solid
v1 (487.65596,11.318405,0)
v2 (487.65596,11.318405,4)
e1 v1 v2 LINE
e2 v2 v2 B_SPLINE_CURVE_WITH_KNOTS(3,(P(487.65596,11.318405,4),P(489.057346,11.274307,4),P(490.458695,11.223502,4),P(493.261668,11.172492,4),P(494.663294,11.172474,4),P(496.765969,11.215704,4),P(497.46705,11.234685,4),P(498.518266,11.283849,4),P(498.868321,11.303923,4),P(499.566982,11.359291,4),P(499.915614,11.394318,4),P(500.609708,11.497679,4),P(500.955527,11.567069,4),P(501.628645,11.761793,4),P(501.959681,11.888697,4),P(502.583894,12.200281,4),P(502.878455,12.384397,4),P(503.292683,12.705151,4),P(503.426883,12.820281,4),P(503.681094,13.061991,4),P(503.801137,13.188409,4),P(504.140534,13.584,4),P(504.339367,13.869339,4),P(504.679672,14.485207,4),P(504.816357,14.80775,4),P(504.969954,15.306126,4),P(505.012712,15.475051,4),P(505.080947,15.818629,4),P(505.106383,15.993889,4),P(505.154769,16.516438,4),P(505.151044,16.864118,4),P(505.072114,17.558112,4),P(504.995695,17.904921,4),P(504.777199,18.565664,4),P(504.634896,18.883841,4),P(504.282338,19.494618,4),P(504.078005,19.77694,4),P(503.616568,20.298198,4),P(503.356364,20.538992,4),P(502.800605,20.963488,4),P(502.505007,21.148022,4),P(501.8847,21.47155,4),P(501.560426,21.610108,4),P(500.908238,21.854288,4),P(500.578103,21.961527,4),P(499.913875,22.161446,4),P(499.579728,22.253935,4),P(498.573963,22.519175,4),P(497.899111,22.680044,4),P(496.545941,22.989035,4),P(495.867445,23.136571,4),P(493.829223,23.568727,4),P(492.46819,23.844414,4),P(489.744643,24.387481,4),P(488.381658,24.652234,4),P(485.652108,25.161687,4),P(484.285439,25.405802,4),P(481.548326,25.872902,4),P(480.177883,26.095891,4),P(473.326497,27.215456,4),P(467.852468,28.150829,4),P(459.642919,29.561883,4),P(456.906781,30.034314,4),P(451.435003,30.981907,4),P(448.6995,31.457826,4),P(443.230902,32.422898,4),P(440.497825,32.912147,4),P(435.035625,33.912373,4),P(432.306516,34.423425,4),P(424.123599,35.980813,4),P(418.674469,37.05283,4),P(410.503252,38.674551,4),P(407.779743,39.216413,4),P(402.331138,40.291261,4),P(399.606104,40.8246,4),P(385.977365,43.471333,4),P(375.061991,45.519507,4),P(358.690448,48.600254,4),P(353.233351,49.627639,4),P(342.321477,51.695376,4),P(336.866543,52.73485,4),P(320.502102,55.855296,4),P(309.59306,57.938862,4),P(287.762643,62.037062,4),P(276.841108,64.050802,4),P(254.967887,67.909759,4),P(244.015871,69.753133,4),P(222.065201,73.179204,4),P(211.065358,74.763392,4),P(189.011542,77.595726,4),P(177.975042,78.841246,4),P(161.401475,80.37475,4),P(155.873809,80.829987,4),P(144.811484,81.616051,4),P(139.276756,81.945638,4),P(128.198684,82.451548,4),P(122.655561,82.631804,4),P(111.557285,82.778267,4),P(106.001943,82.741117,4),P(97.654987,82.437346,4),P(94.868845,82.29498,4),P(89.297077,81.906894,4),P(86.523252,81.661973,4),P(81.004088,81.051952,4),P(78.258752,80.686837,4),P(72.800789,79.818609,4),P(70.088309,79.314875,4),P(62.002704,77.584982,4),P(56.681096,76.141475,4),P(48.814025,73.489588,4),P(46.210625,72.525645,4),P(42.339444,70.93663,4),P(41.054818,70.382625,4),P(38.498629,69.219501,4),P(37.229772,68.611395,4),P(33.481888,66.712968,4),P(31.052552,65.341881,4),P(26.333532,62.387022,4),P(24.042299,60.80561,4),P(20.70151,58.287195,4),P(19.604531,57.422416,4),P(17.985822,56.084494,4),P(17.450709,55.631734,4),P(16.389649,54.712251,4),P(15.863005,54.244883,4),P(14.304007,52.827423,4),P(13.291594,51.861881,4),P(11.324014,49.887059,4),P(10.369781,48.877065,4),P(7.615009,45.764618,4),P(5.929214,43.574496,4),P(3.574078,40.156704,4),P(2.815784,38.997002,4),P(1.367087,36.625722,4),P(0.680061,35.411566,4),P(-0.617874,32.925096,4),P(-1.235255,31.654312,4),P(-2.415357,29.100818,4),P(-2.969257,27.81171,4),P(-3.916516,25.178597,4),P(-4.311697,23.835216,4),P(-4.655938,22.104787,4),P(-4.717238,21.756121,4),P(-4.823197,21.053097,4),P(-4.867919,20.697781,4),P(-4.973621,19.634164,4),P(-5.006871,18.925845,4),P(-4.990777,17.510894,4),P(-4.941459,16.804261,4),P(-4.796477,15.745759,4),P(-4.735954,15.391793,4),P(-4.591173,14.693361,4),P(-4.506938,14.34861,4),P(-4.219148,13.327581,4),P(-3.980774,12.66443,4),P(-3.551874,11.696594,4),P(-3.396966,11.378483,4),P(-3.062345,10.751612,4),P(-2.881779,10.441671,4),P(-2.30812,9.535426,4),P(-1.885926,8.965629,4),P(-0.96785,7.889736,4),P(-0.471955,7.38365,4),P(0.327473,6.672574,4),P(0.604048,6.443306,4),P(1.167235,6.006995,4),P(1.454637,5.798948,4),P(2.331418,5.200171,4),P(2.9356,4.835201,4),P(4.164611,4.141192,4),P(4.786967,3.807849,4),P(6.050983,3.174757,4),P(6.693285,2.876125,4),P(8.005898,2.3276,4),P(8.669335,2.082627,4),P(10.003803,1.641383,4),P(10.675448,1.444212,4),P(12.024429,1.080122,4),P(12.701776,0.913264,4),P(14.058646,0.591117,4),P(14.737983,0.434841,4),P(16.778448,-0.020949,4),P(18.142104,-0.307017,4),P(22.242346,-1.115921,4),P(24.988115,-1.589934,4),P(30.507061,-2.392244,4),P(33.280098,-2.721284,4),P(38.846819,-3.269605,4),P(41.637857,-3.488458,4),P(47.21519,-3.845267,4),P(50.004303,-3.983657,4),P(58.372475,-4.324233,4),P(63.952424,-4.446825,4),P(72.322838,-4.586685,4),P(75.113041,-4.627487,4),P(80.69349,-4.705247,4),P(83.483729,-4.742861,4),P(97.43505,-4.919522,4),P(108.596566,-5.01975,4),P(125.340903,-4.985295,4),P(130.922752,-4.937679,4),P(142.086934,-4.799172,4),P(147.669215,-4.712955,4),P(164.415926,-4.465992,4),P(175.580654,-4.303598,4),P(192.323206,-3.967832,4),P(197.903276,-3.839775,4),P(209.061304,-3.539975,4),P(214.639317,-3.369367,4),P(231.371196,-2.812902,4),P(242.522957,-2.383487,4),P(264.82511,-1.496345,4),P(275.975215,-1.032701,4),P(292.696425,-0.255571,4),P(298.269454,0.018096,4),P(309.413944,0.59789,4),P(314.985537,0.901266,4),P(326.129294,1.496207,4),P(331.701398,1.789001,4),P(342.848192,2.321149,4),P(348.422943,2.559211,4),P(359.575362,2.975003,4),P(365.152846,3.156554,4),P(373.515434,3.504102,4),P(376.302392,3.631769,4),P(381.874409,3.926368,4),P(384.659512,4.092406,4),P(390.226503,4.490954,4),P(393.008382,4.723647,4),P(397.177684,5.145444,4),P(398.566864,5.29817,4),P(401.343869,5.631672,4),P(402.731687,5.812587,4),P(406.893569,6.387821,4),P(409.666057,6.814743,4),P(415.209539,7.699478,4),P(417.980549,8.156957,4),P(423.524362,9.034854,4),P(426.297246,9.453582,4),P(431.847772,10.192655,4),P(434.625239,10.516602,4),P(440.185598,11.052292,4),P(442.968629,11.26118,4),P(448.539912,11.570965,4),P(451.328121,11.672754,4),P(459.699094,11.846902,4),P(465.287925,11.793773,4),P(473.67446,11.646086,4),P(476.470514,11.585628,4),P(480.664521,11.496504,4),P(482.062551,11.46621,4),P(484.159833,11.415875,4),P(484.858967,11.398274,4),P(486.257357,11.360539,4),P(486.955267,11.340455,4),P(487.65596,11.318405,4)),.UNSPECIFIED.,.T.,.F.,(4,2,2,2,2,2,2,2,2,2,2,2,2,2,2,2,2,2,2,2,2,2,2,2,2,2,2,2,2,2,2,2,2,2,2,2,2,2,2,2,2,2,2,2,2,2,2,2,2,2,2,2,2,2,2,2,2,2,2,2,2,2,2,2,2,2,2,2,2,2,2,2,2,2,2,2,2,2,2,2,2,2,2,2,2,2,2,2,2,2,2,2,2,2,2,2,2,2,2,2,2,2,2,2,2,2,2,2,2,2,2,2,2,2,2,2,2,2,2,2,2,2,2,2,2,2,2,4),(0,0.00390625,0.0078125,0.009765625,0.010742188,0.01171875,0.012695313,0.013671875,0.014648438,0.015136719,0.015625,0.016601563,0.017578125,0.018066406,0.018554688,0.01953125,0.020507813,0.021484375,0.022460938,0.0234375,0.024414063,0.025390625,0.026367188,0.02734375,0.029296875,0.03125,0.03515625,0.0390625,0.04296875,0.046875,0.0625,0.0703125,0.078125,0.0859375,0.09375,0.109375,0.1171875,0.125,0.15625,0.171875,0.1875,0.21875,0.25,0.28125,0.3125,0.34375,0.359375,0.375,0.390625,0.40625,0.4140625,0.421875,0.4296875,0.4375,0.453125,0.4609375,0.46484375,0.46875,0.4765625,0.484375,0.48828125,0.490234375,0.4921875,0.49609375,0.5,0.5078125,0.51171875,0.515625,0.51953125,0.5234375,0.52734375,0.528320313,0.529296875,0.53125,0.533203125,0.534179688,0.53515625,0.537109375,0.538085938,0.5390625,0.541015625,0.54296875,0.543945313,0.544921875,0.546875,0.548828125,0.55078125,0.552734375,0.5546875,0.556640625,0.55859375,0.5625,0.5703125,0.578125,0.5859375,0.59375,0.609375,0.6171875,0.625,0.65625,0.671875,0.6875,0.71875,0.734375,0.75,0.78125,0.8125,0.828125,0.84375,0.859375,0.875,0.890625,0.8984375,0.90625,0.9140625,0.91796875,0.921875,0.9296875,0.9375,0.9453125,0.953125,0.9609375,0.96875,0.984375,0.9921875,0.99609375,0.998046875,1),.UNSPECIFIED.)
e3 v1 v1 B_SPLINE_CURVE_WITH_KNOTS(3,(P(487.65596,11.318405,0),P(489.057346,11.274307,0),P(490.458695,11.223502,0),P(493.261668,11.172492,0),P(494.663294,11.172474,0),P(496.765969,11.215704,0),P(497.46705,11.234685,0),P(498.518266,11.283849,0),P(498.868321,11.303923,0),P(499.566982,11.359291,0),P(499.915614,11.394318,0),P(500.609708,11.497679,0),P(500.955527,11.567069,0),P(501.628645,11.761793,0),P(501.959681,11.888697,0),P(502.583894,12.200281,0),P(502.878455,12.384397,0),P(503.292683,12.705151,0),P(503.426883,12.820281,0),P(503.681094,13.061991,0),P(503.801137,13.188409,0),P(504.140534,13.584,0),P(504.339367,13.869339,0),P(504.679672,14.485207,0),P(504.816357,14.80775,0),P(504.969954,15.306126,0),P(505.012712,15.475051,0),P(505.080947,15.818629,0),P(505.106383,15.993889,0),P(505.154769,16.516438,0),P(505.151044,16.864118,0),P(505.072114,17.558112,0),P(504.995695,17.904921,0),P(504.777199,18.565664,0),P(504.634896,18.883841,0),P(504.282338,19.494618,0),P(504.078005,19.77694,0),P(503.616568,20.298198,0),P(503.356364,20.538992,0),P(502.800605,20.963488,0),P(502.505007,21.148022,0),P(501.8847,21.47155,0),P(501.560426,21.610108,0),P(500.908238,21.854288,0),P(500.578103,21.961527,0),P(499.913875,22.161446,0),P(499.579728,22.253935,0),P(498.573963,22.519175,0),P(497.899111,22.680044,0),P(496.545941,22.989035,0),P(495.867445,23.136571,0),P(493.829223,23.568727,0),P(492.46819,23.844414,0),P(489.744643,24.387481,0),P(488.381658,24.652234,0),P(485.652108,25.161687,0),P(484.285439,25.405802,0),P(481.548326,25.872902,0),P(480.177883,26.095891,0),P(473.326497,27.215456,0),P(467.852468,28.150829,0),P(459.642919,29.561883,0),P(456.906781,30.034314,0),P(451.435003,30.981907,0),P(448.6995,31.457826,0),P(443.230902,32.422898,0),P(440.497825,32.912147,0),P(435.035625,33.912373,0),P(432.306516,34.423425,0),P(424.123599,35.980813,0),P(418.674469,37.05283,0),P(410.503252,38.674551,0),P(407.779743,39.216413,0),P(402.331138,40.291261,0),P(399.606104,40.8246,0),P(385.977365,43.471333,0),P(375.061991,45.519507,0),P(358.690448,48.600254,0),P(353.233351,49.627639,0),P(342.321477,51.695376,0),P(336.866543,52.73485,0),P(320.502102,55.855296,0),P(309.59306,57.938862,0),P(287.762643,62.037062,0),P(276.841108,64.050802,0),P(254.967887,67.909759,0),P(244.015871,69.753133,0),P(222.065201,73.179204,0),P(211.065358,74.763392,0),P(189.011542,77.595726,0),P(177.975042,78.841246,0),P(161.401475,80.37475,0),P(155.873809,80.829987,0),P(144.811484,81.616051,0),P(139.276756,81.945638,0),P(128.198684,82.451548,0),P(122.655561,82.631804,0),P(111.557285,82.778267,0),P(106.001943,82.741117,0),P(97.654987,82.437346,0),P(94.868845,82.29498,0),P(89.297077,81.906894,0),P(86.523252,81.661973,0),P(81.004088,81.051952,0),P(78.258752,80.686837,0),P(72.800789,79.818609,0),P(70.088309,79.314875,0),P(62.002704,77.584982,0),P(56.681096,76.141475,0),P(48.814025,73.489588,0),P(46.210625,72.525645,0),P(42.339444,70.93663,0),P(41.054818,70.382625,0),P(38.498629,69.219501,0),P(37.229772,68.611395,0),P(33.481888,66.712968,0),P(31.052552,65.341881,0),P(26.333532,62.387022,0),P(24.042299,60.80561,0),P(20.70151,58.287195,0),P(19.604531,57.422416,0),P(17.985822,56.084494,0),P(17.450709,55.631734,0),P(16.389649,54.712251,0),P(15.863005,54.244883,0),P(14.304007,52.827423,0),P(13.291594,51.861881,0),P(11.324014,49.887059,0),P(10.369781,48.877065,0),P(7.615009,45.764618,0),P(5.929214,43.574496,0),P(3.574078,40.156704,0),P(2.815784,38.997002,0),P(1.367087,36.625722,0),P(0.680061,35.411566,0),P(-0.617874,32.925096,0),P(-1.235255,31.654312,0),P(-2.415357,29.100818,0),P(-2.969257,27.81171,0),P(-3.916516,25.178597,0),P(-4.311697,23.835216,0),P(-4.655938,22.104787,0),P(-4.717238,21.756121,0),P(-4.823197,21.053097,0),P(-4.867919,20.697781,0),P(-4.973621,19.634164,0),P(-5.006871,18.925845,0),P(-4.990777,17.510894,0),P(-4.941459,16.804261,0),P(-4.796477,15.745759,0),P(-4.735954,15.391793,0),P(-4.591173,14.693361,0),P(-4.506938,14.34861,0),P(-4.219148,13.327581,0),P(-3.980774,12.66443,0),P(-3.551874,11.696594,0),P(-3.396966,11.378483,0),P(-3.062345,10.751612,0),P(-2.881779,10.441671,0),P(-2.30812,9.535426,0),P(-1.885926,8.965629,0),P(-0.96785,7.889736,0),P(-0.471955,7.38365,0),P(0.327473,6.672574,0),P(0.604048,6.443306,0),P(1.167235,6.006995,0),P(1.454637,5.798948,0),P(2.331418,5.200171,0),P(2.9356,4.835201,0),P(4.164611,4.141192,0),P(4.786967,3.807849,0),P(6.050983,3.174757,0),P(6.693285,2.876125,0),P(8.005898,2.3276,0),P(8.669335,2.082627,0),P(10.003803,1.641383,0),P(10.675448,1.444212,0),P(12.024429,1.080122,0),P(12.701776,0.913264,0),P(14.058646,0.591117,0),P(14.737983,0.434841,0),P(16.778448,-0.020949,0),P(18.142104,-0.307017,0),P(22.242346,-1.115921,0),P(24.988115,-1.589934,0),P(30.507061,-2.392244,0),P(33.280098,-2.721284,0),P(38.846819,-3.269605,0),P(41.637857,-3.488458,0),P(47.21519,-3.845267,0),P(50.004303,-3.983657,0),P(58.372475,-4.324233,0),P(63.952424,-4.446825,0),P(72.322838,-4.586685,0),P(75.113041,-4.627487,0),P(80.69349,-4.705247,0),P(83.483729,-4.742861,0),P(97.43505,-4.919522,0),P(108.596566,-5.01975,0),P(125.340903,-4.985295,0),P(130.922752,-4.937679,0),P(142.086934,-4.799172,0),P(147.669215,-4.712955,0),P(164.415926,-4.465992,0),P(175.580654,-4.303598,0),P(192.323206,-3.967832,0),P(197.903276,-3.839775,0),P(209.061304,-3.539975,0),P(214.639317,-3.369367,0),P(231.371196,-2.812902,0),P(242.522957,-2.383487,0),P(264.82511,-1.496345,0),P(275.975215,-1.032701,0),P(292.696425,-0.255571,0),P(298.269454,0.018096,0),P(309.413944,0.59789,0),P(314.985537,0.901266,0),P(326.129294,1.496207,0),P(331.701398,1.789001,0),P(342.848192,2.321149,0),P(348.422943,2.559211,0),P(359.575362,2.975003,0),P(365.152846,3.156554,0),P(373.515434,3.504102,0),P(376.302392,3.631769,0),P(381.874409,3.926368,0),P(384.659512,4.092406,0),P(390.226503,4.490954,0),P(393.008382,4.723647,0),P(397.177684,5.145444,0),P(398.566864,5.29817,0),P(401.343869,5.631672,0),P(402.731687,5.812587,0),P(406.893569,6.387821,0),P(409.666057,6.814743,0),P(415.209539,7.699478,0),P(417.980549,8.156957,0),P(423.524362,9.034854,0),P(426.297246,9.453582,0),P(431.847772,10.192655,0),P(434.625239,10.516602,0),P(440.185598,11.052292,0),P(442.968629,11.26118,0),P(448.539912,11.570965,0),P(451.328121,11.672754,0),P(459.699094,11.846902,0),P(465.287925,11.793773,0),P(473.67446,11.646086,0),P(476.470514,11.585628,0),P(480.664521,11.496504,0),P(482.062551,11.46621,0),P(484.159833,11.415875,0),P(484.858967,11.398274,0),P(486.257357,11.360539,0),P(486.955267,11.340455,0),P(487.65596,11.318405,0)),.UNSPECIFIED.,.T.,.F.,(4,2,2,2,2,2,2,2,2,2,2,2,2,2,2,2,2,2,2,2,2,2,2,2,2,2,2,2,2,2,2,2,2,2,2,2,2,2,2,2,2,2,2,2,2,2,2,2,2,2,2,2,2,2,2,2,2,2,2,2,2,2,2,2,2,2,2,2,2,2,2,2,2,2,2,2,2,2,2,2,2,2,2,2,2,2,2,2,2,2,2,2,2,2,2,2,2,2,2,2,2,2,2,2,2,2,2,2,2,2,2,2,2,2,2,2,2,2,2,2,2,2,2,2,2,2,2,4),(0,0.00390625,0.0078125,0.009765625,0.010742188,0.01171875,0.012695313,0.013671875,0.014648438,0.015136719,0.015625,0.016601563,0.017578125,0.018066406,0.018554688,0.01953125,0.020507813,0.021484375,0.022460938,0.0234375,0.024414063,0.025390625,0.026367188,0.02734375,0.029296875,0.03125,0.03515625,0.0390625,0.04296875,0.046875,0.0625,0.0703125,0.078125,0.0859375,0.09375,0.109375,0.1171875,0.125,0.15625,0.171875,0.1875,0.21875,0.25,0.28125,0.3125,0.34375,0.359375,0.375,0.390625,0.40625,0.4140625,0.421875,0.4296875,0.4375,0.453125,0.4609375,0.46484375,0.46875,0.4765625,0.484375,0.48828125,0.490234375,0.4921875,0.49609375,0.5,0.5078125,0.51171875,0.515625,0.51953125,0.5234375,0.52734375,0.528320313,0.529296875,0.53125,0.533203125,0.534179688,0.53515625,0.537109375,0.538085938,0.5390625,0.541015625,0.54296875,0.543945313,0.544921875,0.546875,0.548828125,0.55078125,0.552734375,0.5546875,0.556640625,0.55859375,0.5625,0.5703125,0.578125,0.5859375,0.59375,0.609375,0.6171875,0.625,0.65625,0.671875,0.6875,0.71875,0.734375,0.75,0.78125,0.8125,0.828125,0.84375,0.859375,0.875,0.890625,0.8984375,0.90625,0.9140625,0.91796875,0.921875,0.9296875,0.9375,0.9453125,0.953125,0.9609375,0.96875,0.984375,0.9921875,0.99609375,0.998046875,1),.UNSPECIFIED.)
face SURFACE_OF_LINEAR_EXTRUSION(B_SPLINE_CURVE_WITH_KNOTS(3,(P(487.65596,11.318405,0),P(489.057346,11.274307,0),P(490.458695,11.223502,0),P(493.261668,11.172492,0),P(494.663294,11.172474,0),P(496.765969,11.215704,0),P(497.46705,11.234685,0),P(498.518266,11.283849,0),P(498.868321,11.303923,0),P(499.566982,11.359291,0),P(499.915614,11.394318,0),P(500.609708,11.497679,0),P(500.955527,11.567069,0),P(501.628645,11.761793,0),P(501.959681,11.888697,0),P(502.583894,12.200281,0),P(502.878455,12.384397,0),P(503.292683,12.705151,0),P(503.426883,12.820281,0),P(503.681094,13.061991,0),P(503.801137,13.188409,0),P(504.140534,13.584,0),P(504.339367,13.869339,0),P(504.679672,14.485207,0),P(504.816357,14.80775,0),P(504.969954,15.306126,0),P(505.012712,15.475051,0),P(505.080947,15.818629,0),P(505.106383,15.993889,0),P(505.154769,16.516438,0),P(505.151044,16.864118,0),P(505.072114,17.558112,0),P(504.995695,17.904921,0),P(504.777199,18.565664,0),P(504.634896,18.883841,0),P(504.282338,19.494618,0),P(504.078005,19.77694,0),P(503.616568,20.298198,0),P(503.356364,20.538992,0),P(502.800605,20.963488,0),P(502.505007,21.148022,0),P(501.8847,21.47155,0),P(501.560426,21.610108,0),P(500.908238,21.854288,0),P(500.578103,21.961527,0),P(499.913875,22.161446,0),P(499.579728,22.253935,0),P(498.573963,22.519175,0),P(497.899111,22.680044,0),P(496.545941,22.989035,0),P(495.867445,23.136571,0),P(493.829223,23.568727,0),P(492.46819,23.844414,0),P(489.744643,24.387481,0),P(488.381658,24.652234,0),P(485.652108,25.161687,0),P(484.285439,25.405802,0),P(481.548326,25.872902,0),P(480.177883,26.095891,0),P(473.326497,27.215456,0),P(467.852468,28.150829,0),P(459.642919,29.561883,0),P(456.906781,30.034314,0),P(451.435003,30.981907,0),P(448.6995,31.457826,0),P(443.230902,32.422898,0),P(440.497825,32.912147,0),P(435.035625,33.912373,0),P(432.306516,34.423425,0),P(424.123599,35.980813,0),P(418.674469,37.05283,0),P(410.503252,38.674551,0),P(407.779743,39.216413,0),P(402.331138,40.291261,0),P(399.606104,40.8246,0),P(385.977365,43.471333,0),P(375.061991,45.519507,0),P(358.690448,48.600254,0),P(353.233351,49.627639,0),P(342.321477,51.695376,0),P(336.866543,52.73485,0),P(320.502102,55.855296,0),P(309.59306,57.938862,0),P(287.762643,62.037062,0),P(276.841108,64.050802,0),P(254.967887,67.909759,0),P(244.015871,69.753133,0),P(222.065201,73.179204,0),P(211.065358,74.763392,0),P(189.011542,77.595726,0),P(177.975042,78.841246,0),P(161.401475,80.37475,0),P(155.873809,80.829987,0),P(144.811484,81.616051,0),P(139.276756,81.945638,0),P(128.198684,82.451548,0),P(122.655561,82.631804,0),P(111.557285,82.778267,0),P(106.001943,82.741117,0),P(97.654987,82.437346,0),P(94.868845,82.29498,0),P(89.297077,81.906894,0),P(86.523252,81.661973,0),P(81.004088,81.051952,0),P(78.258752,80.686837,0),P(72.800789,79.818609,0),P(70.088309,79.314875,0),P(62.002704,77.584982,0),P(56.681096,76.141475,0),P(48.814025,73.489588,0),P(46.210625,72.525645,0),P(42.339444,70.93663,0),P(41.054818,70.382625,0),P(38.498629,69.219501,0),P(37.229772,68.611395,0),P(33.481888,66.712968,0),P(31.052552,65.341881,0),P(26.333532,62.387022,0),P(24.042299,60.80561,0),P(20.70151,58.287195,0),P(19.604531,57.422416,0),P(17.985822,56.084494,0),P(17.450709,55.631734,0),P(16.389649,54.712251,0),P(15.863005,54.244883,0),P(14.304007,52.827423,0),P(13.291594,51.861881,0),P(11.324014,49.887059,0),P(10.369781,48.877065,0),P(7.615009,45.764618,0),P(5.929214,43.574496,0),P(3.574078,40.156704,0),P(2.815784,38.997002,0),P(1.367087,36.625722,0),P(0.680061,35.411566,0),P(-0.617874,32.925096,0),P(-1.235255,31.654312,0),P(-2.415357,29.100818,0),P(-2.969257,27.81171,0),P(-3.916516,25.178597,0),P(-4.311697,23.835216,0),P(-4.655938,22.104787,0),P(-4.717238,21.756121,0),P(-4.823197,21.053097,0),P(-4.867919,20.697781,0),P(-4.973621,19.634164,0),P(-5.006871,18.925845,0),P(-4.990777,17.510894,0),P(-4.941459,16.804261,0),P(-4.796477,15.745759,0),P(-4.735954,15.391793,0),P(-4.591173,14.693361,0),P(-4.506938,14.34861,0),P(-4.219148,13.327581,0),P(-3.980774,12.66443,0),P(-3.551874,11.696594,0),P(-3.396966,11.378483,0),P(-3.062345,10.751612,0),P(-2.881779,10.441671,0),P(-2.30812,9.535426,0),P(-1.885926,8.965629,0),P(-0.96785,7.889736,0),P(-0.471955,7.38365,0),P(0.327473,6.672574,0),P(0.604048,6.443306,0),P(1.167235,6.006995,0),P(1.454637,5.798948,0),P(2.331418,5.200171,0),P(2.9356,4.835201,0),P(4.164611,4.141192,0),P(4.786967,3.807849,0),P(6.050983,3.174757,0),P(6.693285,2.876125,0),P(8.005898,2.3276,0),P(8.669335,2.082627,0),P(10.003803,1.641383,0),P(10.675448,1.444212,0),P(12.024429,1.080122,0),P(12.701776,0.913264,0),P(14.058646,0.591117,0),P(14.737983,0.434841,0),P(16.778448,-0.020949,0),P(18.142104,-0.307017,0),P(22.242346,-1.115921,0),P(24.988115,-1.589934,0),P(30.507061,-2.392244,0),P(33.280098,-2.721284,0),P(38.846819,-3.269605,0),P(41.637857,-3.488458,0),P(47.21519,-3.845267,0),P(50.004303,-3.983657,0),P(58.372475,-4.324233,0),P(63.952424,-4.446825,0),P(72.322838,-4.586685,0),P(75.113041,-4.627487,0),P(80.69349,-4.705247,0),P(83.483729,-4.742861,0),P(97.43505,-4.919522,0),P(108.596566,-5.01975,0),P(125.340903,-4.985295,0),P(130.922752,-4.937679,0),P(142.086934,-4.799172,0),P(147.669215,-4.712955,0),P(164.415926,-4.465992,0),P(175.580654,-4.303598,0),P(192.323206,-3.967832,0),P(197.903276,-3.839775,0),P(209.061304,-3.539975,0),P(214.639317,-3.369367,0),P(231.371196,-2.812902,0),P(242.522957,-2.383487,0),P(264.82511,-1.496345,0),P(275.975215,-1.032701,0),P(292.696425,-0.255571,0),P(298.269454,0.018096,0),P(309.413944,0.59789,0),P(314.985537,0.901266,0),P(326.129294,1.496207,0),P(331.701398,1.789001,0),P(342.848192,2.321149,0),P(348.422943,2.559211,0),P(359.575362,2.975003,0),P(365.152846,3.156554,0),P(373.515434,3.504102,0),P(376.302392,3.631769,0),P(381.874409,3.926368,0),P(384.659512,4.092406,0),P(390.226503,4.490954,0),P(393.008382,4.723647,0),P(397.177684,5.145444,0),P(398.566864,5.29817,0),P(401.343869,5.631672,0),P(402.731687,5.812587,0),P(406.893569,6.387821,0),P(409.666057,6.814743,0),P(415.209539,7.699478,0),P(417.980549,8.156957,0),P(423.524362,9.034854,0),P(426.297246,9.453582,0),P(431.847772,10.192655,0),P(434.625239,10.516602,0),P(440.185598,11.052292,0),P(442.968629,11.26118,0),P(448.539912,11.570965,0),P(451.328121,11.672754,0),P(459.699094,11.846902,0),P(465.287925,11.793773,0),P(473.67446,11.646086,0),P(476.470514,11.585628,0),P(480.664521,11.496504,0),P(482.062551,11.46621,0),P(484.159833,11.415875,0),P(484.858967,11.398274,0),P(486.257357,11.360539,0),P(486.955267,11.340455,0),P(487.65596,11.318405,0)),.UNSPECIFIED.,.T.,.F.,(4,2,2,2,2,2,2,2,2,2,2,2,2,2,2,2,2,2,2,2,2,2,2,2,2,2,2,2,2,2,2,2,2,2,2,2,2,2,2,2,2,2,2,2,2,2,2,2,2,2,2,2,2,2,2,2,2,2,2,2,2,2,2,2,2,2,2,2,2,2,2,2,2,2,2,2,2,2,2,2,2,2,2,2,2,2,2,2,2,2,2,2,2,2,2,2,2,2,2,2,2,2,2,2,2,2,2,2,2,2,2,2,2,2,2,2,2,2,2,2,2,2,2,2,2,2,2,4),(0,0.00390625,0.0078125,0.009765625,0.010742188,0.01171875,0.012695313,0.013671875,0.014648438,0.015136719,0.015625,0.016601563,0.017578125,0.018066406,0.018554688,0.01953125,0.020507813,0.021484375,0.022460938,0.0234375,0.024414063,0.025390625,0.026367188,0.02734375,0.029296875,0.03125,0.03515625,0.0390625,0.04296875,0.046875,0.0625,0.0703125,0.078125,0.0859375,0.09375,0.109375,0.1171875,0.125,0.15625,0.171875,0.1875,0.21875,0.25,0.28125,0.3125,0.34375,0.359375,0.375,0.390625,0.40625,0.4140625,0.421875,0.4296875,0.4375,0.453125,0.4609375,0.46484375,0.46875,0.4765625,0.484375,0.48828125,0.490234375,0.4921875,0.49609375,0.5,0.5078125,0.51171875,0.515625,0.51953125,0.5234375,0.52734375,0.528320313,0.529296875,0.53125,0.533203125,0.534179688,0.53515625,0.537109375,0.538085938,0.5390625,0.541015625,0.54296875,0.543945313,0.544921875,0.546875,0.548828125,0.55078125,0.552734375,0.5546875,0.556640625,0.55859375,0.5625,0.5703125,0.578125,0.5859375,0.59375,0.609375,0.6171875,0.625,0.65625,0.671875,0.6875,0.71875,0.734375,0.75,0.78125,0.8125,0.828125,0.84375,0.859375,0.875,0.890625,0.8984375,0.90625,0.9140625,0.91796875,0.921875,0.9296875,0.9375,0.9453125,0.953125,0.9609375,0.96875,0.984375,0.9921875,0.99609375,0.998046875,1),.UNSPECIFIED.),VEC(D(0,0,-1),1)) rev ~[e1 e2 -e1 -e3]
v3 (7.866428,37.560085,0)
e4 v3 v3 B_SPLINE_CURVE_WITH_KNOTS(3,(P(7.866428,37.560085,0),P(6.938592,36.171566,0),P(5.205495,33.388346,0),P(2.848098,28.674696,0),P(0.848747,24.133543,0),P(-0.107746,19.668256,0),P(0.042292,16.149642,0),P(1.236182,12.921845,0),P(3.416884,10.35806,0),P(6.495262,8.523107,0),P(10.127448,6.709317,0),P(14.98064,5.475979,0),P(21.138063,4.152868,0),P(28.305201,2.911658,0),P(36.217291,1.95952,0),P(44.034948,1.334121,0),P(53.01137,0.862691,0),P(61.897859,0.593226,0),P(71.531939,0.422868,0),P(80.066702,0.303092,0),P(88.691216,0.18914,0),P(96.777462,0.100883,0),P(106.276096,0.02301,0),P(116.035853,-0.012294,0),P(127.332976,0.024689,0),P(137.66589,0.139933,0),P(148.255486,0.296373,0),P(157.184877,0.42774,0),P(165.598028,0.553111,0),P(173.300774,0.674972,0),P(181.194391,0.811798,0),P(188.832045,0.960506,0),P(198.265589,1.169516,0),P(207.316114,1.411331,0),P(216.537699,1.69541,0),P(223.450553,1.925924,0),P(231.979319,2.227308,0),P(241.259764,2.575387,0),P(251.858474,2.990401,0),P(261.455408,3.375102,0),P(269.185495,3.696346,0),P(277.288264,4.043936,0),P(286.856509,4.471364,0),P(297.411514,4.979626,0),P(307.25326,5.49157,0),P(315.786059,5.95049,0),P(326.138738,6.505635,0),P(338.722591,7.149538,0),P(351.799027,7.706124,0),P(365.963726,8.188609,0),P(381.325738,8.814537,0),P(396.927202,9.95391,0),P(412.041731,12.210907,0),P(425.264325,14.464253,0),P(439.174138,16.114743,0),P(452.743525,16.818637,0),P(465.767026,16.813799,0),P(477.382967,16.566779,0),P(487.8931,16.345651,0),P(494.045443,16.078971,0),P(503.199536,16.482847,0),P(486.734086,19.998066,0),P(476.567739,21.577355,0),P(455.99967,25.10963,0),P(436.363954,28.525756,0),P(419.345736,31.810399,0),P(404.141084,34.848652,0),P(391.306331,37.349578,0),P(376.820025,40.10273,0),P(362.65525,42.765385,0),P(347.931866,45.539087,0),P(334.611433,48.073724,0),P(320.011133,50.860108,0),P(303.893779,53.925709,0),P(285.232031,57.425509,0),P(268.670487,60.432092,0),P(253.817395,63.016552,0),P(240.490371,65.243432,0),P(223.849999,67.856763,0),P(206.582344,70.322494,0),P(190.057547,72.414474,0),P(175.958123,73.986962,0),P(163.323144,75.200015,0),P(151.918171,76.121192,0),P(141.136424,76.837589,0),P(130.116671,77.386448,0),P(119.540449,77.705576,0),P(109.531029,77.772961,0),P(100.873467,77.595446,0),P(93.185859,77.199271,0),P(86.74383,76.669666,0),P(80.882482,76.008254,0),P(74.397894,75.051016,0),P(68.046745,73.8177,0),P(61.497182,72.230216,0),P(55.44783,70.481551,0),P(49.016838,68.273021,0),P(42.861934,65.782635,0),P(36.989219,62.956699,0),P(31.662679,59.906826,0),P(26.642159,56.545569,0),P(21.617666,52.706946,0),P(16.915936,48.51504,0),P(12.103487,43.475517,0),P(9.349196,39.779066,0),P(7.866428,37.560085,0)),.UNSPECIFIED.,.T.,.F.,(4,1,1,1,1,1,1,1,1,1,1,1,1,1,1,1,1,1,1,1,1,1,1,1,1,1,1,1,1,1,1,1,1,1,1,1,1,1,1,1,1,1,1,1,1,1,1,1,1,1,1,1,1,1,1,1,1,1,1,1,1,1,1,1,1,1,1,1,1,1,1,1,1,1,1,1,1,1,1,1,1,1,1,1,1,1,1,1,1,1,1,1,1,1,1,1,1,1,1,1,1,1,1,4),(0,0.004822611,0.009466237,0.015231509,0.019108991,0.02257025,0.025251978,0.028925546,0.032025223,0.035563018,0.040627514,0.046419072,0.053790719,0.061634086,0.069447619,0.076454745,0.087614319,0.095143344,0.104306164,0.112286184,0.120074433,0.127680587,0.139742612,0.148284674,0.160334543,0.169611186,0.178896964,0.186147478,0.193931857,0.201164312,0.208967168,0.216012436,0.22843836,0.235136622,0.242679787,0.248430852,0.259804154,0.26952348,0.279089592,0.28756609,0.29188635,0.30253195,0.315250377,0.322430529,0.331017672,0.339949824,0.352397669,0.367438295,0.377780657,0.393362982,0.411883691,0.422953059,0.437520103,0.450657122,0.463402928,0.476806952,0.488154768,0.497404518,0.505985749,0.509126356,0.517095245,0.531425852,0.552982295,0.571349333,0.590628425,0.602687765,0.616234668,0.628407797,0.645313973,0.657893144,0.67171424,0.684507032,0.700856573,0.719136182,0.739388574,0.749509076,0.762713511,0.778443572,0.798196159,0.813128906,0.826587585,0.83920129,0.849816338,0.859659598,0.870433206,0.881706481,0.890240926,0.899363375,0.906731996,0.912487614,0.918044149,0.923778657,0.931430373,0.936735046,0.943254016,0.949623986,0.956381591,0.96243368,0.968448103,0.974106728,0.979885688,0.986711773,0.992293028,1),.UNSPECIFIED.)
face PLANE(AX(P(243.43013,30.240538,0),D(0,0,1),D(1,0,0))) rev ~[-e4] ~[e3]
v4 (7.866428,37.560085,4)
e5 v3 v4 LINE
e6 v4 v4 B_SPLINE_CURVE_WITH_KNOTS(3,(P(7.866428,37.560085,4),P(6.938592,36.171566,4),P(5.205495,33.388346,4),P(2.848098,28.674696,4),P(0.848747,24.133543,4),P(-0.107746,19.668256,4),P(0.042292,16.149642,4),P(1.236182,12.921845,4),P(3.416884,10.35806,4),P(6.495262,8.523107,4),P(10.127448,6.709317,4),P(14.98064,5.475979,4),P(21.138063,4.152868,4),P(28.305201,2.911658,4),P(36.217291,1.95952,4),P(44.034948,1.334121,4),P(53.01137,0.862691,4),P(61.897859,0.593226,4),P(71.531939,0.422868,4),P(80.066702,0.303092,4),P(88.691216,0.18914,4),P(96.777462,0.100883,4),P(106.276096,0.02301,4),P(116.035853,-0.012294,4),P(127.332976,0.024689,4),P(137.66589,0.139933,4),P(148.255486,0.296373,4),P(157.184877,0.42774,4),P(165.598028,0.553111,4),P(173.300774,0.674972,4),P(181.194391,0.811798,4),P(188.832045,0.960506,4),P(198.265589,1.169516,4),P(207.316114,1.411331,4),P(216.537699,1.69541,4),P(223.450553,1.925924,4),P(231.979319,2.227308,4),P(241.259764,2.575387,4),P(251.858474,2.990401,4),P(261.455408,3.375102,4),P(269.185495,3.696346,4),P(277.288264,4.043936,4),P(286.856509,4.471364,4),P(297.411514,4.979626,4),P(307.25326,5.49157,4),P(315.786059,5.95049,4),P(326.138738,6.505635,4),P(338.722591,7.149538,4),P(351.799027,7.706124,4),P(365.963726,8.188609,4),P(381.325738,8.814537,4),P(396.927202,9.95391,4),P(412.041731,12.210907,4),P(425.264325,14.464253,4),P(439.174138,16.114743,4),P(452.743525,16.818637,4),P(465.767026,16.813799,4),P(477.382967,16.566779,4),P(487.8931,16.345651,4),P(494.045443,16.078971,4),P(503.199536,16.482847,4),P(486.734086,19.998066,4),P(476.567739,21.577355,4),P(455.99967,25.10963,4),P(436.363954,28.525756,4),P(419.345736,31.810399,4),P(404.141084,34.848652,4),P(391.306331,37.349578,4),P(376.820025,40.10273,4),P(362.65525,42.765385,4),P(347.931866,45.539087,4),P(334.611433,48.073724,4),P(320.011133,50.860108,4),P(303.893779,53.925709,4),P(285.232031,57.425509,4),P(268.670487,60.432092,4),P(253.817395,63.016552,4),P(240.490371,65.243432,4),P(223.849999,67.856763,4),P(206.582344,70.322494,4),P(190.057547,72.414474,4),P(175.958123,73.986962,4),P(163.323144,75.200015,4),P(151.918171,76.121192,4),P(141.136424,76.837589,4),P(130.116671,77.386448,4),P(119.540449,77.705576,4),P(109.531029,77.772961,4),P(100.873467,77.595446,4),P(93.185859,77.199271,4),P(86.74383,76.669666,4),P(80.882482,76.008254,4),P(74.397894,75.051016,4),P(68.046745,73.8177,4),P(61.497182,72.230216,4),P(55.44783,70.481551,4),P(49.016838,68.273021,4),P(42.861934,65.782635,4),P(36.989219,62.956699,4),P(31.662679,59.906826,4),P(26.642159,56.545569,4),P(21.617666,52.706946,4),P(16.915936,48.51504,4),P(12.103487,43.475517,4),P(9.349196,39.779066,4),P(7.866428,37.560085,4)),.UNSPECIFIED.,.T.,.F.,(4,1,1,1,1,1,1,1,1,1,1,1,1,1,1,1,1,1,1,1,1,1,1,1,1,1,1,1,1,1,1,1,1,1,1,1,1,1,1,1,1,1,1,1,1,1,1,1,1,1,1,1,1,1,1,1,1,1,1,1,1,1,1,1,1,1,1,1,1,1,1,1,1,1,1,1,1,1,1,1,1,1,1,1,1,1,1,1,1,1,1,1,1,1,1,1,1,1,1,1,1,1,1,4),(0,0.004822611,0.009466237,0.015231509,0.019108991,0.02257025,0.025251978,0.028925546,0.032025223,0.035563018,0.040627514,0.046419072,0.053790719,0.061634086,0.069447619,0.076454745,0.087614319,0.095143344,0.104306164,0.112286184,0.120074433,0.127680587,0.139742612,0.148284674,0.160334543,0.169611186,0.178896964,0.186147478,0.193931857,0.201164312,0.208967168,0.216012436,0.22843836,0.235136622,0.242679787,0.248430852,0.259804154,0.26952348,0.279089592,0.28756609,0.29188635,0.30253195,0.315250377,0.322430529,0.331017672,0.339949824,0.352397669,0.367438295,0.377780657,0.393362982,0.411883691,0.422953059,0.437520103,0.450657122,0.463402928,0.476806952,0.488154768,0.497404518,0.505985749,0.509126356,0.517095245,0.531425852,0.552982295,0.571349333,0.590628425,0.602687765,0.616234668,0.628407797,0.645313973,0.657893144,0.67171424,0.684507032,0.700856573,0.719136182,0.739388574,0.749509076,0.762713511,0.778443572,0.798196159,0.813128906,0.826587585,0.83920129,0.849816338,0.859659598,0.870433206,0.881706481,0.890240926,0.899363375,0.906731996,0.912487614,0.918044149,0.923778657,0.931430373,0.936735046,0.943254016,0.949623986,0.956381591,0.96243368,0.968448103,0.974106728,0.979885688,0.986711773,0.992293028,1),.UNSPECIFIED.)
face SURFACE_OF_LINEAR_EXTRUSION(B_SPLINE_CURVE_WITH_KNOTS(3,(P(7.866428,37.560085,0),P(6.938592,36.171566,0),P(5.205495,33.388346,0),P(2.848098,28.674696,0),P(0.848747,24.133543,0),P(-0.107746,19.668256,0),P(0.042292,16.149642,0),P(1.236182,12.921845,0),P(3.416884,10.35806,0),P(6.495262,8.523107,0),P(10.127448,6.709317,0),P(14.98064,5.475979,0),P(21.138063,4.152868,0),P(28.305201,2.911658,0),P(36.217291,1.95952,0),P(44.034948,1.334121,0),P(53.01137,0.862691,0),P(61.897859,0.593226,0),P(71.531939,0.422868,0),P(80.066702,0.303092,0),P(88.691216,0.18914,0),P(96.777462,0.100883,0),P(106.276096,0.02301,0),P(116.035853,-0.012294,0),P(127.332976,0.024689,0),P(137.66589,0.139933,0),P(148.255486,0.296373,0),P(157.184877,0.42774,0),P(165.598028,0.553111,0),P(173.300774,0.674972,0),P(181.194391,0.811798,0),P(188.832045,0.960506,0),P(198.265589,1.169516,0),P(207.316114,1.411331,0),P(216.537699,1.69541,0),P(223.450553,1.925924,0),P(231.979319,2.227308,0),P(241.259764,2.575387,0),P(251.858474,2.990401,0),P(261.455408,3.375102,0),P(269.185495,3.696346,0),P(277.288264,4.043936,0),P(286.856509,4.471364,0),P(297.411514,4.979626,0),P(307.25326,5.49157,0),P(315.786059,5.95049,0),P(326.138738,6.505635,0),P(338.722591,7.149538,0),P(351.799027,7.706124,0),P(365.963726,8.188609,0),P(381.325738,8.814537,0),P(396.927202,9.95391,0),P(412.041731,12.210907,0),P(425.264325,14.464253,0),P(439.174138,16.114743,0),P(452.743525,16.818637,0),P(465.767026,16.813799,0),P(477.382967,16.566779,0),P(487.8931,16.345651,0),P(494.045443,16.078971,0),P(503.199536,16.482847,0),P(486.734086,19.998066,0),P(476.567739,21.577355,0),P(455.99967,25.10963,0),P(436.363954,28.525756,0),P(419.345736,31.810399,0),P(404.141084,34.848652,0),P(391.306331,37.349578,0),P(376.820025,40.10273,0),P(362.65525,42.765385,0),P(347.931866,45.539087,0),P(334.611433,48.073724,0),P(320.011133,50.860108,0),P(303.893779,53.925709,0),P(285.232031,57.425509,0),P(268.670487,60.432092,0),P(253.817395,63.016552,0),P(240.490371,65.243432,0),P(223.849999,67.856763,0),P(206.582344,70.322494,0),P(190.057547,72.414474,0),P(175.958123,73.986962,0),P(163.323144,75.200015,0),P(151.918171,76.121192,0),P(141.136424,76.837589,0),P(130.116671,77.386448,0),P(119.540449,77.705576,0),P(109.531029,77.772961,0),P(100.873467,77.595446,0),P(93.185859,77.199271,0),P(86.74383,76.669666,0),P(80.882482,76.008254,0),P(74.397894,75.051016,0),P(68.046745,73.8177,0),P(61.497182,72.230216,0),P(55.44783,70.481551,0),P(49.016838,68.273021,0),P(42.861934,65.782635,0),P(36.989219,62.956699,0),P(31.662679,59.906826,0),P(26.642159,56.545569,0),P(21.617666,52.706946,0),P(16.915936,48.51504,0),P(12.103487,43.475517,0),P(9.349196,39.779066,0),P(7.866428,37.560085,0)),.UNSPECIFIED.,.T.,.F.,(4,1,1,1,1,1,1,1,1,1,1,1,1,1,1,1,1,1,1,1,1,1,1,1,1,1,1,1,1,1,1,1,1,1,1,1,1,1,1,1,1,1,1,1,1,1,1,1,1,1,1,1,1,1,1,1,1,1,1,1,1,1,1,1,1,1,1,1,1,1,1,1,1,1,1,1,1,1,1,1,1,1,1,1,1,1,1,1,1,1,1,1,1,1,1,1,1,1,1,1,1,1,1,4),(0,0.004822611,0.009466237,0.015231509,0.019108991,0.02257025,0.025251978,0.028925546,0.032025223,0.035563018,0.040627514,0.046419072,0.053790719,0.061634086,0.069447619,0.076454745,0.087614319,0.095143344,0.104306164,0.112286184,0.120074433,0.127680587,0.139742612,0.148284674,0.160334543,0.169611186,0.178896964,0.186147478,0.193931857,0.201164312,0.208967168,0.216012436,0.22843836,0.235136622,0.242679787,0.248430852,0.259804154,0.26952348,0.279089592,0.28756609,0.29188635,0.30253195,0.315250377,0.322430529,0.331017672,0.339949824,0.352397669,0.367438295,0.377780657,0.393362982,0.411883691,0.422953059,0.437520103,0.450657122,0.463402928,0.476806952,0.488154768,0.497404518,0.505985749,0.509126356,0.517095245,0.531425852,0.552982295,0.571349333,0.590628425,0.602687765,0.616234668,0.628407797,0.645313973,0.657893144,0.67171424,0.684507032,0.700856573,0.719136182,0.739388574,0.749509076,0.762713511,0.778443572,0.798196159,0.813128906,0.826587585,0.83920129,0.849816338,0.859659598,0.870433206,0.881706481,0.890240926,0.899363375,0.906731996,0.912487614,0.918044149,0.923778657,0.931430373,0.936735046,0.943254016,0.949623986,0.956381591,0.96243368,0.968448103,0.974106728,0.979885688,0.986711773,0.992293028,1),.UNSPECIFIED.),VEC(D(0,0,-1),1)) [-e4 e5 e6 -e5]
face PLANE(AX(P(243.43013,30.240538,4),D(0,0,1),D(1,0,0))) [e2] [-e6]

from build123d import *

# Parameters (mm, degrees)
BOSS_EXTRUDE5_DEPTH = 4


with BuildPart() as part:
    # Sketch14 → Boss-Extrude5 (new body)
    with BuildSketch(Plane.XY):
        with BuildLine():
            add(Edge.make_bspline(
                [(487.655960202, 11.318405494), (489.057345742, 11.274307088), (490.458694736, 11.223502071), (493.261668454, 11.172491917), (494.663294199, 11.172474124), (496.765968529, 11.21570387), (497.467049598, 11.234684854), (498.518266073, 11.28384861), (498.868320754, 11.303923101), (499.566981948, 11.359290501), (499.915613732, 11.39431783), (500.609707921, 11.497678655), (500.955526566, 11.567068634), (501.628644563, 11.76179327), (501.959680523, 11.888697076), (502.583893602, 12.200281319), (502.878455297, 12.384396991), (503.292683026, 12.705150521), (503.426882955, 12.820281106), (503.681093771, 13.061990922), (503.801137289, 13.18840946), (504.140533839, 13.584000122), (504.339366652, 13.869338866), (504.679672147, 14.485206879), (504.816356709, 14.80774951), (504.96995443, 15.30612626), (505.012711502, 15.475050834), (505.080946664, 15.818628807), (505.106383322, 15.99388865), (505.154768685, 16.516438462), (505.151044187, 16.864117887), (505.072114007, 17.558111702), (504.99569452, 17.904921465), (504.777198822, 18.565664453), (504.634895693, 18.883841126), (504.282338422, 19.494618163), (504.078004686, 19.776940138), (503.616567719, 20.298197689), (503.356364298, 20.538992186), (502.800604637, 20.963488398), (502.505007287, 21.148021964), (501.884699911, 21.471549738), (501.560426163, 21.610108093), (500.90823775, 21.854288157), (500.578103492, 21.961526619), (499.913875019, 22.161446398), (499.579728386, 22.253935027), (498.573962773, 22.519175308), (497.899111303, 22.680044049), (496.545941024, 22.989035302), (495.867444686, 23.136571253), (493.829222575, 23.568727446), (492.46819047, 23.844414214), (489.744642972, 24.38748125), (488.381658302, 24.652233544), (485.65210839, 25.161686726), (484.28543851, 25.405801638), (481.548325648, 25.872901876), (480.177883366, 26.095891121), (473.326496678, 27.215455853), (467.852467814, 28.15082898), (459.642918976, 29.561882542), (456.906781355, 30.034314365), (451.435002719, 30.981906735), (448.699499739, 31.457825758), (443.23090229, 32.422897985), (440.497825304, 32.912147255), (435.035625478, 33.912372875), (432.30651637, 34.42342468), (424.123599243, 35.980813058), (418.674469332, 37.052830144), (410.503251995, 38.674551463), (407.779743238, 39.216412755), (402.331137981, 40.291260985), (399.606104468, 40.824599971), (385.977365395, 43.471332694), (375.061991228, 45.519507154), (358.69044817, 48.600254465), (353.233351031, 49.627639072), (342.321476923, 51.695376388), (336.86654273, 52.734850335), (320.502102166, 55.855295574), (309.593060059, 57.938861785), (287.76264296, 62.037062073), (276.841108038, 64.050802261), (254.967887007, 67.909758801), (244.015871377, 69.753133352), (222.065201268, 73.179204226), (211.06535758, 74.763392059), (189.01154193, 77.595726379), (177.97504227, 78.841246378), (161.401475463, 80.374749852), (155.873809408, 80.829986965), (144.811484387, 81.616051176), (139.276755732, 81.945638456), (128.198683592, 82.451547645), (122.655561256, 82.631803995), (111.55728515, 82.778266922), (106.001942742, 82.741117487), (97.654986726, 82.437345742), (94.868844726, 82.294980289), (89.297076904, 81.90689376), (86.523252153, 81.661972991), (81.004088061, 81.051951721), (78.258752, 80.686837385), (72.800788986, 79.818609233), (70.088309165, 79.314874665), (62.002704126, 77.584981925), (56.681095537, 76.141475481), (48.81402473, 73.489588464), (46.210625124, 72.525645292), (42.339443835, 70.936630246), (41.054817626, 70.382625297), (38.498628684, 69.219500691), (37.22977154, 68.611395377), (33.481888285, 66.712967872), (31.052552079, 65.341880762), (26.333532261, 62.387021661), (24.042298843, 60.805609957), (20.701510431, 58.287194547), (19.604531129, 57.42241602), (17.985821809, 56.084494462), (17.450708529, 55.631733562), (16.389648808, 54.712251059), (15.863005288, 54.244883212), (14.30400702, 52.827422619), (13.291593842, 51.861881205), (11.324013896, 49.887058782), (10.369780561, 48.877064577), (7.615008953, 45.764618376), (5.92921351, 43.574496169), (3.574078266, 40.156704494), (2.815783522, 38.997001785), (1.367086738, 36.625722385), (0.680060645, 35.411566273), (-0.617873672, 32.925095561), (-1.2352554, 31.654311799), (-2.415357116, 29.100818319), (-2.969257054, 27.811709961), (-3.916515974, 25.178597103), (-4.311697214, 23.835215715), (-4.655937564, 22.104787468), (-4.717237652, 21.756120826), (-4.823197273, 21.05309739), (-4.867918813, 20.697780797), (-4.973621198, 19.634163877), (-5.006871046, 18.925845439), (-4.990776625, 17.510894046), (-4.941458988, 16.804260548), (-4.796476607, 15.745759304), (-4.735953973, 15.391792921), (-4.591172613, 14.69336086), (-4.506937792, 14.348609555), (-4.219148002, 13.327581283), (-3.980773525, 12.664429756), (-3.551874045, 11.696593701), (-3.396966069, 11.378483102), (-3.062345349, 10.751612223), (-2.881778735, 10.441671205), (-2.30811999, 9.535425877), (-1.885925947, 8.96562897), (-0.967849798, 7.889735804), (-0.471955057, 7.383650466), (0.327472831, 6.672574339), (0.604048063, 6.443305953), (1.167234748, 6.006995113), (1.454636661, 5.798947904), (2.331418138, 5.20017132), (2.935599742, 4.835200805), (4.164610815, 4.141191679), (4.786966915, 3.80784885), (6.050983223, 3.17475666), (6.693285487, 2.876124619), (8.005897853, 2.327600436), (8.66933459, 2.082627212), (10.003803105, 1.641383411), (10.675448214, 1.444211692), (12.024429013, 1.080122072), (12.701775926, 0.913263841), (14.058646027, 0.591117492), (14.73798333, 0.434841116), (16.778447818, -0.020948931), (18.142104011, -0.307017202), (22.242345771, -1.115921383), (24.988114649, -1.589934465), (30.507060969, -2.392243714), (33.280098417, -2.721284155), (38.846818659, -3.269604592), (41.637856935, -3.48845808), (47.215189514, -3.845266785), (50.004302693, -3.983657291), (58.372475347, -4.324232887), (63.952423747, -4.446824891), (72.322838068, -4.586685122), (75.113041156, -4.627486808), (80.69349026, -4.705246606), (83.483728943, -4.742861234), (97.43504982, -4.919521656), (108.596565542, -5.019750034), (125.340903019, -4.985294679), (130.922752368, -4.937678719), (142.086934374, -4.799172138), (147.669214833, -4.712955224), (164.415925678, -4.465992187), (175.580654247, -4.303598113), (192.323205532, -3.967831582), (197.903275802, -3.839774996), (209.061303901, -3.539974562), (214.639316672, -3.369366957), (231.371196365, -2.812901894), (242.522957106, -2.383486596), (264.825109644, -1.496344986), (275.975215288, -1.032700753), (292.696425049, -0.255571454), (298.269454487, 0.018096149), (309.413943863, 0.597890081), (314.985536789, 0.901266094), (326.129293738, 1.496207305), (331.701398368, 1.789000819), (342.848191595, 2.321148943), (348.422942695, 2.559210967), (359.575362148, 2.975003461), (365.152845765, 3.156554455), (373.515433981, 3.504101871), (376.302391937, 3.631769114), (381.874409256, 3.926368289), (384.659511857, 4.092406007), (390.226502859, 4.490954152), (393.00838245, 4.723646741), (397.17768372, 5.145443598), (398.566864426, 5.298169512), (401.343869464, 5.631672461), (402.731687137, 5.812587179), (406.893569152, 6.387821196), (409.66605702, 6.814743453), (415.209539084, 7.699478488), (417.980549455, 8.156956768), (423.524362154, 9.034853958), (426.297246242, 9.453582006), (431.847771594, 10.192655234), (434.625238724, 10.51660169), (440.185598394, 11.052291977), (442.968629001, 11.261180494), (448.539912065, 11.570964751), (451.328121341, 11.672753529), (459.699094037, 11.846902006), (465.287925325, 11.793772506), (473.674459933, 11.646086047), (476.470514465, 11.585627548), (480.664520625, 11.496504083), (482.062551035, 11.466209824), (484.159833281, 11.415874671), (484.858967106, 11.398274355), (486.257357305, 11.360539318), (486.955267432, 11.340454697), (487.655960202, 11.318405494)],
                knots=[0, 0, 0, 0, 0.00390625, 0.00390625, 0.0078125, 0.0078125, 0.009765625, 0.009765625, 0.010742188, 0.010742188, 0.01171875, 0.01171875, 0.012695313, 0.012695313, 0.013671875, 0.013671875, 0.014648438, 0.014648438, 0.015136719, 0.015136719, 0.015625, 0.015625, 0.016601563, 0.016601563, 0.017578125, 0.017578125, 0.018066406, 0.018066406, 0.018554688, 0.018554688, 0.01953125, 0.01953125, 0.020507813, 0.020507813, 0.021484375, 0.021484375, 0.022460938, 0.022460938, 0.0234375, 0.0234375, 0.024414063, 0.024414063, 0.025390625, 0.025390625, 0.026367188, 0.026367188, 0.02734375, 0.02734375, 0.029296875, 0.029296875, 0.03125, 0.03125, 0.03515625, 0.03515625, 0.0390625, 0.0390625, 0.04296875, 0.04296875, 0.046875, 0.046875, 0.0625, 0.0625, 0.0703125, 0.0703125, 0.078125, 0.078125, 0.0859375, 0.0859375, 0.09375, 0.09375, 0.109375, 0.109375, 0.1171875, 0.1171875, 0.125, 0.125, 0.15625, 0.15625, 0.171875, 0.171875, 0.1875, 0.1875, 0.21875, 0.21875, 0.25, 0.25, 0.28125, 0.28125, 0.3125, 0.3125, 0.34375, 0.34375, 0.359375, 0.359375, 0.375, 0.375, 0.390625, 0.390625, 0.40625, 0.40625, 0.4140625, 0.4140625, 0.421875, 0.421875, 0.4296875, 0.4296875, 0.4375, 0.4375, 0.453125, 0.453125, 0.4609375, 0.4609375, 0.46484375, 0.46484375, 0.46875, 0.46875, 0.4765625, 0.4765625, 0.484375, 0.484375, 0.48828125, 0.48828125, 0.490234375, 0.490234375, 0.4921875, 0.4921875, 0.49609375, 0.49609375, 0.5, 0.5, 0.5078125, 0.5078125, 0.51171875, 0.51171875, 0.515625, 0.515625, 0.51953125, 0.51953125, 0.5234375, 0.5234375, 0.52734375, 0.52734375, 0.528320313, 0.528320313, 0.529296875, 0.529296875, 0.53125, 0.53125, 0.533203125, 0.533203125, 0.534179688, 0.534179688, 0.53515625, 0.53515625, 0.537109375, 0.537109375, 0.538085938, 0.538085938, 0.5390625, 0.5390625, 0.541015625, 0.541015625, 0.54296875, 0.54296875, 0.543945313, 0.543945313, 0.544921875, 0.544921875, 0.546875, 0.546875, 0.548828125, 0.548828125, 0.55078125, 0.55078125, 0.552734375, 0.552734375, 0.5546875, 0.5546875, 0.556640625, 0.556640625, 0.55859375, 0.55859375, 0.5625, 0.5625, 0.5703125, 0.5703125, 0.578125, 0.578125, 0.5859375, 0.5859375, 0.59375, 0.59375, 0.609375, 0.609375, 0.6171875, 0.6171875, 0.625, 0.625, 0.65625, 0.65625, 0.671875, 0.671875, 0.6875, 0.6875, 0.71875, 0.71875, 0.734375, 0.734375, 0.75, 0.75, 0.78125, 0.78125, 0.8125, 0.8125, 0.828125, 0.828125, 0.84375, 0.84375, 0.859375, 0.859375, 0.875, 0.875, 0.890625, 0.890625, 0.8984375, 0.8984375, 0.90625, 0.90625, 0.9140625, 0.9140625, 0.91796875, 0.91796875, 0.921875, 0.921875, 0.9296875, 0.9296875, 0.9375, 0.9375, 0.9453125, 0.9453125, 0.953125, 0.953125, 0.9609375, 0.9609375, 0.96875, 0.96875, 0.984375, 0.984375, 0.9921875, 0.9921875, 0.99609375, 0.99609375, 0.998046875, 0.998046875, 1, 1, 1, 1], degree=3))
        make_face()
        with BuildLine():
            add(Edge.make_bspline(
                [(7.866428189, 37.560085444), (6.938591531, 36.171566471), (5.205494886, 33.388345671), (2.848098091, 28.674695825), (0.848747163, 24.133543154), (-0.107746476, 19.668256316), (0.04229169, 16.149642334), (1.236182063, 12.921845427), (3.416883643, 10.358060049), (6.495262055, 8.523106886), (10.127448243, 6.709317186), (14.980640459, 5.475978741), (21.138062661, 4.15286774), (28.305200826, 2.911658294), (36.217291445, 1.959520211), (44.034947677, 1.334120773), (53.011370152, 0.862691356), (61.897859117, 0.59322565), (71.531938589, 0.422867633), (80.066702423, 0.303091928), (88.69121587, 0.189140044), (96.777462409, 0.10088258), (106.276096056, 0.023009938), (116.035852959, -0.012293936), (127.332975975, 0.024689451), (137.665890196, 0.139932701), (148.255486382, 0.29637314), (157.184877056, 0.427740207), (165.598027616, 0.553110889), (173.300774394, 0.674971798), (181.194391154, 0.811797963), (188.83204481, 0.960506401), (198.265588962, 1.169515988), (207.316113689, 1.411330557), (216.537698653, 1.695410287), (223.450553442, 1.925923576), (231.979319172, 2.227308135), (241.259764139, 2.575386953), (251.858473678, 2.990400519), (261.45540833, 3.37510163), (269.185495433, 3.696346467), (277.288264205, 4.043936213), (286.856508579, 4.471363696), (297.411514353, 4.979626029), (307.253260404, 5.491569809), (315.786058687, 5.9504901), (326.138738132, 6.505634779), (338.722591283, 7.149538403), (351.799027155, 7.706123882), (365.963725519, 8.188608845), (381.325737555, 8.814536841), (396.927202205, 9.953910024), (412.041731394, 12.210907367), (425.264325471, 14.464252943), (439.17413754, 16.114742804), (452.74352491, 16.818636795), (465.767026362, 16.813799081), (477.382967159, 16.566779325), (487.893099973, 16.345651072), (494.045443438, 16.078970503), (503.199535964, 16.482847328), (486.734086077, 19.998065802), (476.567739048, 21.577355275), (455.999670421, 25.109629602), (436.363954131, 28.525755535), (419.345736354, 31.81039935), (404.141083587, 34.848652183), (391.306330775, 37.349577919), (376.820025473, 40.102729948), (362.655250182, 42.765384592), (347.931865553, 45.539086625), (334.611432618, 48.07372379), (320.011133365, 50.860108071), (303.893779286, 53.925708793), (285.232031152, 57.425508895), (268.670487025, 60.432091543), (253.817395036, 63.016551795), (240.49037061, 65.243431898), (223.849998754, 67.856762862), (206.582344437, 70.322494401), (190.05754678, 72.414474165), (175.958123105, 73.98696157), (163.323143638, 75.200014952), (151.918170622, 76.121191589), (141.136423807, 76.837588784), (130.116670867, 77.386447579), (119.540449473, 77.70557625), (109.531029417, 77.772960846), (100.873467484, 77.595445639), (93.185858745, 77.199271443), (86.7438297, 76.669666073), (80.882482078, 76.008254254), (74.397894009, 75.0510161), (68.046745376, 73.817699849), (61.497182478, 72.230215977), (55.447830013, 70.481551152), (49.016837863, 68.27302087), (42.861934298, 65.782634772), (36.989219458, 62.956699278), (31.662679073, 59.906825849), (26.642159371, 56.545568948), (21.617666438, 52.706946157), (16.915935985, 48.515040412), (12.103487325, 43.475517412), (9.349195933, 39.779065614), (7.866428189, 37.560085444)],
                knots=[0, 0, 0, 0, 0.004822611, 0.009466237, 0.015231509, 0.019108991, 0.02257025, 0.025251978, 0.028925546, 0.032025223, 0.035563018, 0.040627514, 0.046419072, 0.053790719, 0.061634086, 0.069447619, 0.076454745, 0.087614319, 0.095143344, 0.104306164, 0.112286184, 0.120074433, 0.127680587, 0.139742612, 0.148284674, 0.160334543, 0.169611186, 0.178896964, 0.186147478, 0.193931857, 0.201164312, 0.208967168, 0.216012436, 0.22843836, 0.235136622, 0.242679787, 0.248430852, 0.259804154, 0.26952348, 0.279089592, 0.28756609, 0.29188635, 0.30253195, 0.315250377, 0.322430529, 0.331017672, 0.339949824, 0.352397669, 0.367438295, 0.377780657, 0.393362982, 0.411883691, 0.422953059, 0.437520103, 0.450657122, 0.463402928, 0.476806952, 0.488154768, 0.497404518, 0.505985749, 0.509126356, 0.517095245, 0.531425852, 0.552982295, 0.571349333, 0.590628425, 0.602687765, 0.616234668, 0.628407797, 0.645313973, 0.657893144, 0.67171424, 0.684507032, 0.700856573, 0.719136182, 0.739388574, 0.749509076, 0.762713511, 0.778443572, 0.798196159, 0.813128906, 0.826587585, 0.83920129, 0.849816338, 0.859659598, 0.870433206, 0.881706481, 0.890240926, 0.899363375, 0.906731996, 0.912487614, 0.918044149, 0.923778657, 0.931430373, 0.936735046, 0.943254016, 0.949623986, 0.956381591, 0.96243368, 0.968448103, 0.974106728, 0.979885688, 0.986711773, 0.992293028, 1, 1, 1, 1], degree=3))
        make_face(mode=Mode.SUBTRACT)
    extrude(amount=BOSS_EXTRUDE5_DEPTH)


solid = part.part
